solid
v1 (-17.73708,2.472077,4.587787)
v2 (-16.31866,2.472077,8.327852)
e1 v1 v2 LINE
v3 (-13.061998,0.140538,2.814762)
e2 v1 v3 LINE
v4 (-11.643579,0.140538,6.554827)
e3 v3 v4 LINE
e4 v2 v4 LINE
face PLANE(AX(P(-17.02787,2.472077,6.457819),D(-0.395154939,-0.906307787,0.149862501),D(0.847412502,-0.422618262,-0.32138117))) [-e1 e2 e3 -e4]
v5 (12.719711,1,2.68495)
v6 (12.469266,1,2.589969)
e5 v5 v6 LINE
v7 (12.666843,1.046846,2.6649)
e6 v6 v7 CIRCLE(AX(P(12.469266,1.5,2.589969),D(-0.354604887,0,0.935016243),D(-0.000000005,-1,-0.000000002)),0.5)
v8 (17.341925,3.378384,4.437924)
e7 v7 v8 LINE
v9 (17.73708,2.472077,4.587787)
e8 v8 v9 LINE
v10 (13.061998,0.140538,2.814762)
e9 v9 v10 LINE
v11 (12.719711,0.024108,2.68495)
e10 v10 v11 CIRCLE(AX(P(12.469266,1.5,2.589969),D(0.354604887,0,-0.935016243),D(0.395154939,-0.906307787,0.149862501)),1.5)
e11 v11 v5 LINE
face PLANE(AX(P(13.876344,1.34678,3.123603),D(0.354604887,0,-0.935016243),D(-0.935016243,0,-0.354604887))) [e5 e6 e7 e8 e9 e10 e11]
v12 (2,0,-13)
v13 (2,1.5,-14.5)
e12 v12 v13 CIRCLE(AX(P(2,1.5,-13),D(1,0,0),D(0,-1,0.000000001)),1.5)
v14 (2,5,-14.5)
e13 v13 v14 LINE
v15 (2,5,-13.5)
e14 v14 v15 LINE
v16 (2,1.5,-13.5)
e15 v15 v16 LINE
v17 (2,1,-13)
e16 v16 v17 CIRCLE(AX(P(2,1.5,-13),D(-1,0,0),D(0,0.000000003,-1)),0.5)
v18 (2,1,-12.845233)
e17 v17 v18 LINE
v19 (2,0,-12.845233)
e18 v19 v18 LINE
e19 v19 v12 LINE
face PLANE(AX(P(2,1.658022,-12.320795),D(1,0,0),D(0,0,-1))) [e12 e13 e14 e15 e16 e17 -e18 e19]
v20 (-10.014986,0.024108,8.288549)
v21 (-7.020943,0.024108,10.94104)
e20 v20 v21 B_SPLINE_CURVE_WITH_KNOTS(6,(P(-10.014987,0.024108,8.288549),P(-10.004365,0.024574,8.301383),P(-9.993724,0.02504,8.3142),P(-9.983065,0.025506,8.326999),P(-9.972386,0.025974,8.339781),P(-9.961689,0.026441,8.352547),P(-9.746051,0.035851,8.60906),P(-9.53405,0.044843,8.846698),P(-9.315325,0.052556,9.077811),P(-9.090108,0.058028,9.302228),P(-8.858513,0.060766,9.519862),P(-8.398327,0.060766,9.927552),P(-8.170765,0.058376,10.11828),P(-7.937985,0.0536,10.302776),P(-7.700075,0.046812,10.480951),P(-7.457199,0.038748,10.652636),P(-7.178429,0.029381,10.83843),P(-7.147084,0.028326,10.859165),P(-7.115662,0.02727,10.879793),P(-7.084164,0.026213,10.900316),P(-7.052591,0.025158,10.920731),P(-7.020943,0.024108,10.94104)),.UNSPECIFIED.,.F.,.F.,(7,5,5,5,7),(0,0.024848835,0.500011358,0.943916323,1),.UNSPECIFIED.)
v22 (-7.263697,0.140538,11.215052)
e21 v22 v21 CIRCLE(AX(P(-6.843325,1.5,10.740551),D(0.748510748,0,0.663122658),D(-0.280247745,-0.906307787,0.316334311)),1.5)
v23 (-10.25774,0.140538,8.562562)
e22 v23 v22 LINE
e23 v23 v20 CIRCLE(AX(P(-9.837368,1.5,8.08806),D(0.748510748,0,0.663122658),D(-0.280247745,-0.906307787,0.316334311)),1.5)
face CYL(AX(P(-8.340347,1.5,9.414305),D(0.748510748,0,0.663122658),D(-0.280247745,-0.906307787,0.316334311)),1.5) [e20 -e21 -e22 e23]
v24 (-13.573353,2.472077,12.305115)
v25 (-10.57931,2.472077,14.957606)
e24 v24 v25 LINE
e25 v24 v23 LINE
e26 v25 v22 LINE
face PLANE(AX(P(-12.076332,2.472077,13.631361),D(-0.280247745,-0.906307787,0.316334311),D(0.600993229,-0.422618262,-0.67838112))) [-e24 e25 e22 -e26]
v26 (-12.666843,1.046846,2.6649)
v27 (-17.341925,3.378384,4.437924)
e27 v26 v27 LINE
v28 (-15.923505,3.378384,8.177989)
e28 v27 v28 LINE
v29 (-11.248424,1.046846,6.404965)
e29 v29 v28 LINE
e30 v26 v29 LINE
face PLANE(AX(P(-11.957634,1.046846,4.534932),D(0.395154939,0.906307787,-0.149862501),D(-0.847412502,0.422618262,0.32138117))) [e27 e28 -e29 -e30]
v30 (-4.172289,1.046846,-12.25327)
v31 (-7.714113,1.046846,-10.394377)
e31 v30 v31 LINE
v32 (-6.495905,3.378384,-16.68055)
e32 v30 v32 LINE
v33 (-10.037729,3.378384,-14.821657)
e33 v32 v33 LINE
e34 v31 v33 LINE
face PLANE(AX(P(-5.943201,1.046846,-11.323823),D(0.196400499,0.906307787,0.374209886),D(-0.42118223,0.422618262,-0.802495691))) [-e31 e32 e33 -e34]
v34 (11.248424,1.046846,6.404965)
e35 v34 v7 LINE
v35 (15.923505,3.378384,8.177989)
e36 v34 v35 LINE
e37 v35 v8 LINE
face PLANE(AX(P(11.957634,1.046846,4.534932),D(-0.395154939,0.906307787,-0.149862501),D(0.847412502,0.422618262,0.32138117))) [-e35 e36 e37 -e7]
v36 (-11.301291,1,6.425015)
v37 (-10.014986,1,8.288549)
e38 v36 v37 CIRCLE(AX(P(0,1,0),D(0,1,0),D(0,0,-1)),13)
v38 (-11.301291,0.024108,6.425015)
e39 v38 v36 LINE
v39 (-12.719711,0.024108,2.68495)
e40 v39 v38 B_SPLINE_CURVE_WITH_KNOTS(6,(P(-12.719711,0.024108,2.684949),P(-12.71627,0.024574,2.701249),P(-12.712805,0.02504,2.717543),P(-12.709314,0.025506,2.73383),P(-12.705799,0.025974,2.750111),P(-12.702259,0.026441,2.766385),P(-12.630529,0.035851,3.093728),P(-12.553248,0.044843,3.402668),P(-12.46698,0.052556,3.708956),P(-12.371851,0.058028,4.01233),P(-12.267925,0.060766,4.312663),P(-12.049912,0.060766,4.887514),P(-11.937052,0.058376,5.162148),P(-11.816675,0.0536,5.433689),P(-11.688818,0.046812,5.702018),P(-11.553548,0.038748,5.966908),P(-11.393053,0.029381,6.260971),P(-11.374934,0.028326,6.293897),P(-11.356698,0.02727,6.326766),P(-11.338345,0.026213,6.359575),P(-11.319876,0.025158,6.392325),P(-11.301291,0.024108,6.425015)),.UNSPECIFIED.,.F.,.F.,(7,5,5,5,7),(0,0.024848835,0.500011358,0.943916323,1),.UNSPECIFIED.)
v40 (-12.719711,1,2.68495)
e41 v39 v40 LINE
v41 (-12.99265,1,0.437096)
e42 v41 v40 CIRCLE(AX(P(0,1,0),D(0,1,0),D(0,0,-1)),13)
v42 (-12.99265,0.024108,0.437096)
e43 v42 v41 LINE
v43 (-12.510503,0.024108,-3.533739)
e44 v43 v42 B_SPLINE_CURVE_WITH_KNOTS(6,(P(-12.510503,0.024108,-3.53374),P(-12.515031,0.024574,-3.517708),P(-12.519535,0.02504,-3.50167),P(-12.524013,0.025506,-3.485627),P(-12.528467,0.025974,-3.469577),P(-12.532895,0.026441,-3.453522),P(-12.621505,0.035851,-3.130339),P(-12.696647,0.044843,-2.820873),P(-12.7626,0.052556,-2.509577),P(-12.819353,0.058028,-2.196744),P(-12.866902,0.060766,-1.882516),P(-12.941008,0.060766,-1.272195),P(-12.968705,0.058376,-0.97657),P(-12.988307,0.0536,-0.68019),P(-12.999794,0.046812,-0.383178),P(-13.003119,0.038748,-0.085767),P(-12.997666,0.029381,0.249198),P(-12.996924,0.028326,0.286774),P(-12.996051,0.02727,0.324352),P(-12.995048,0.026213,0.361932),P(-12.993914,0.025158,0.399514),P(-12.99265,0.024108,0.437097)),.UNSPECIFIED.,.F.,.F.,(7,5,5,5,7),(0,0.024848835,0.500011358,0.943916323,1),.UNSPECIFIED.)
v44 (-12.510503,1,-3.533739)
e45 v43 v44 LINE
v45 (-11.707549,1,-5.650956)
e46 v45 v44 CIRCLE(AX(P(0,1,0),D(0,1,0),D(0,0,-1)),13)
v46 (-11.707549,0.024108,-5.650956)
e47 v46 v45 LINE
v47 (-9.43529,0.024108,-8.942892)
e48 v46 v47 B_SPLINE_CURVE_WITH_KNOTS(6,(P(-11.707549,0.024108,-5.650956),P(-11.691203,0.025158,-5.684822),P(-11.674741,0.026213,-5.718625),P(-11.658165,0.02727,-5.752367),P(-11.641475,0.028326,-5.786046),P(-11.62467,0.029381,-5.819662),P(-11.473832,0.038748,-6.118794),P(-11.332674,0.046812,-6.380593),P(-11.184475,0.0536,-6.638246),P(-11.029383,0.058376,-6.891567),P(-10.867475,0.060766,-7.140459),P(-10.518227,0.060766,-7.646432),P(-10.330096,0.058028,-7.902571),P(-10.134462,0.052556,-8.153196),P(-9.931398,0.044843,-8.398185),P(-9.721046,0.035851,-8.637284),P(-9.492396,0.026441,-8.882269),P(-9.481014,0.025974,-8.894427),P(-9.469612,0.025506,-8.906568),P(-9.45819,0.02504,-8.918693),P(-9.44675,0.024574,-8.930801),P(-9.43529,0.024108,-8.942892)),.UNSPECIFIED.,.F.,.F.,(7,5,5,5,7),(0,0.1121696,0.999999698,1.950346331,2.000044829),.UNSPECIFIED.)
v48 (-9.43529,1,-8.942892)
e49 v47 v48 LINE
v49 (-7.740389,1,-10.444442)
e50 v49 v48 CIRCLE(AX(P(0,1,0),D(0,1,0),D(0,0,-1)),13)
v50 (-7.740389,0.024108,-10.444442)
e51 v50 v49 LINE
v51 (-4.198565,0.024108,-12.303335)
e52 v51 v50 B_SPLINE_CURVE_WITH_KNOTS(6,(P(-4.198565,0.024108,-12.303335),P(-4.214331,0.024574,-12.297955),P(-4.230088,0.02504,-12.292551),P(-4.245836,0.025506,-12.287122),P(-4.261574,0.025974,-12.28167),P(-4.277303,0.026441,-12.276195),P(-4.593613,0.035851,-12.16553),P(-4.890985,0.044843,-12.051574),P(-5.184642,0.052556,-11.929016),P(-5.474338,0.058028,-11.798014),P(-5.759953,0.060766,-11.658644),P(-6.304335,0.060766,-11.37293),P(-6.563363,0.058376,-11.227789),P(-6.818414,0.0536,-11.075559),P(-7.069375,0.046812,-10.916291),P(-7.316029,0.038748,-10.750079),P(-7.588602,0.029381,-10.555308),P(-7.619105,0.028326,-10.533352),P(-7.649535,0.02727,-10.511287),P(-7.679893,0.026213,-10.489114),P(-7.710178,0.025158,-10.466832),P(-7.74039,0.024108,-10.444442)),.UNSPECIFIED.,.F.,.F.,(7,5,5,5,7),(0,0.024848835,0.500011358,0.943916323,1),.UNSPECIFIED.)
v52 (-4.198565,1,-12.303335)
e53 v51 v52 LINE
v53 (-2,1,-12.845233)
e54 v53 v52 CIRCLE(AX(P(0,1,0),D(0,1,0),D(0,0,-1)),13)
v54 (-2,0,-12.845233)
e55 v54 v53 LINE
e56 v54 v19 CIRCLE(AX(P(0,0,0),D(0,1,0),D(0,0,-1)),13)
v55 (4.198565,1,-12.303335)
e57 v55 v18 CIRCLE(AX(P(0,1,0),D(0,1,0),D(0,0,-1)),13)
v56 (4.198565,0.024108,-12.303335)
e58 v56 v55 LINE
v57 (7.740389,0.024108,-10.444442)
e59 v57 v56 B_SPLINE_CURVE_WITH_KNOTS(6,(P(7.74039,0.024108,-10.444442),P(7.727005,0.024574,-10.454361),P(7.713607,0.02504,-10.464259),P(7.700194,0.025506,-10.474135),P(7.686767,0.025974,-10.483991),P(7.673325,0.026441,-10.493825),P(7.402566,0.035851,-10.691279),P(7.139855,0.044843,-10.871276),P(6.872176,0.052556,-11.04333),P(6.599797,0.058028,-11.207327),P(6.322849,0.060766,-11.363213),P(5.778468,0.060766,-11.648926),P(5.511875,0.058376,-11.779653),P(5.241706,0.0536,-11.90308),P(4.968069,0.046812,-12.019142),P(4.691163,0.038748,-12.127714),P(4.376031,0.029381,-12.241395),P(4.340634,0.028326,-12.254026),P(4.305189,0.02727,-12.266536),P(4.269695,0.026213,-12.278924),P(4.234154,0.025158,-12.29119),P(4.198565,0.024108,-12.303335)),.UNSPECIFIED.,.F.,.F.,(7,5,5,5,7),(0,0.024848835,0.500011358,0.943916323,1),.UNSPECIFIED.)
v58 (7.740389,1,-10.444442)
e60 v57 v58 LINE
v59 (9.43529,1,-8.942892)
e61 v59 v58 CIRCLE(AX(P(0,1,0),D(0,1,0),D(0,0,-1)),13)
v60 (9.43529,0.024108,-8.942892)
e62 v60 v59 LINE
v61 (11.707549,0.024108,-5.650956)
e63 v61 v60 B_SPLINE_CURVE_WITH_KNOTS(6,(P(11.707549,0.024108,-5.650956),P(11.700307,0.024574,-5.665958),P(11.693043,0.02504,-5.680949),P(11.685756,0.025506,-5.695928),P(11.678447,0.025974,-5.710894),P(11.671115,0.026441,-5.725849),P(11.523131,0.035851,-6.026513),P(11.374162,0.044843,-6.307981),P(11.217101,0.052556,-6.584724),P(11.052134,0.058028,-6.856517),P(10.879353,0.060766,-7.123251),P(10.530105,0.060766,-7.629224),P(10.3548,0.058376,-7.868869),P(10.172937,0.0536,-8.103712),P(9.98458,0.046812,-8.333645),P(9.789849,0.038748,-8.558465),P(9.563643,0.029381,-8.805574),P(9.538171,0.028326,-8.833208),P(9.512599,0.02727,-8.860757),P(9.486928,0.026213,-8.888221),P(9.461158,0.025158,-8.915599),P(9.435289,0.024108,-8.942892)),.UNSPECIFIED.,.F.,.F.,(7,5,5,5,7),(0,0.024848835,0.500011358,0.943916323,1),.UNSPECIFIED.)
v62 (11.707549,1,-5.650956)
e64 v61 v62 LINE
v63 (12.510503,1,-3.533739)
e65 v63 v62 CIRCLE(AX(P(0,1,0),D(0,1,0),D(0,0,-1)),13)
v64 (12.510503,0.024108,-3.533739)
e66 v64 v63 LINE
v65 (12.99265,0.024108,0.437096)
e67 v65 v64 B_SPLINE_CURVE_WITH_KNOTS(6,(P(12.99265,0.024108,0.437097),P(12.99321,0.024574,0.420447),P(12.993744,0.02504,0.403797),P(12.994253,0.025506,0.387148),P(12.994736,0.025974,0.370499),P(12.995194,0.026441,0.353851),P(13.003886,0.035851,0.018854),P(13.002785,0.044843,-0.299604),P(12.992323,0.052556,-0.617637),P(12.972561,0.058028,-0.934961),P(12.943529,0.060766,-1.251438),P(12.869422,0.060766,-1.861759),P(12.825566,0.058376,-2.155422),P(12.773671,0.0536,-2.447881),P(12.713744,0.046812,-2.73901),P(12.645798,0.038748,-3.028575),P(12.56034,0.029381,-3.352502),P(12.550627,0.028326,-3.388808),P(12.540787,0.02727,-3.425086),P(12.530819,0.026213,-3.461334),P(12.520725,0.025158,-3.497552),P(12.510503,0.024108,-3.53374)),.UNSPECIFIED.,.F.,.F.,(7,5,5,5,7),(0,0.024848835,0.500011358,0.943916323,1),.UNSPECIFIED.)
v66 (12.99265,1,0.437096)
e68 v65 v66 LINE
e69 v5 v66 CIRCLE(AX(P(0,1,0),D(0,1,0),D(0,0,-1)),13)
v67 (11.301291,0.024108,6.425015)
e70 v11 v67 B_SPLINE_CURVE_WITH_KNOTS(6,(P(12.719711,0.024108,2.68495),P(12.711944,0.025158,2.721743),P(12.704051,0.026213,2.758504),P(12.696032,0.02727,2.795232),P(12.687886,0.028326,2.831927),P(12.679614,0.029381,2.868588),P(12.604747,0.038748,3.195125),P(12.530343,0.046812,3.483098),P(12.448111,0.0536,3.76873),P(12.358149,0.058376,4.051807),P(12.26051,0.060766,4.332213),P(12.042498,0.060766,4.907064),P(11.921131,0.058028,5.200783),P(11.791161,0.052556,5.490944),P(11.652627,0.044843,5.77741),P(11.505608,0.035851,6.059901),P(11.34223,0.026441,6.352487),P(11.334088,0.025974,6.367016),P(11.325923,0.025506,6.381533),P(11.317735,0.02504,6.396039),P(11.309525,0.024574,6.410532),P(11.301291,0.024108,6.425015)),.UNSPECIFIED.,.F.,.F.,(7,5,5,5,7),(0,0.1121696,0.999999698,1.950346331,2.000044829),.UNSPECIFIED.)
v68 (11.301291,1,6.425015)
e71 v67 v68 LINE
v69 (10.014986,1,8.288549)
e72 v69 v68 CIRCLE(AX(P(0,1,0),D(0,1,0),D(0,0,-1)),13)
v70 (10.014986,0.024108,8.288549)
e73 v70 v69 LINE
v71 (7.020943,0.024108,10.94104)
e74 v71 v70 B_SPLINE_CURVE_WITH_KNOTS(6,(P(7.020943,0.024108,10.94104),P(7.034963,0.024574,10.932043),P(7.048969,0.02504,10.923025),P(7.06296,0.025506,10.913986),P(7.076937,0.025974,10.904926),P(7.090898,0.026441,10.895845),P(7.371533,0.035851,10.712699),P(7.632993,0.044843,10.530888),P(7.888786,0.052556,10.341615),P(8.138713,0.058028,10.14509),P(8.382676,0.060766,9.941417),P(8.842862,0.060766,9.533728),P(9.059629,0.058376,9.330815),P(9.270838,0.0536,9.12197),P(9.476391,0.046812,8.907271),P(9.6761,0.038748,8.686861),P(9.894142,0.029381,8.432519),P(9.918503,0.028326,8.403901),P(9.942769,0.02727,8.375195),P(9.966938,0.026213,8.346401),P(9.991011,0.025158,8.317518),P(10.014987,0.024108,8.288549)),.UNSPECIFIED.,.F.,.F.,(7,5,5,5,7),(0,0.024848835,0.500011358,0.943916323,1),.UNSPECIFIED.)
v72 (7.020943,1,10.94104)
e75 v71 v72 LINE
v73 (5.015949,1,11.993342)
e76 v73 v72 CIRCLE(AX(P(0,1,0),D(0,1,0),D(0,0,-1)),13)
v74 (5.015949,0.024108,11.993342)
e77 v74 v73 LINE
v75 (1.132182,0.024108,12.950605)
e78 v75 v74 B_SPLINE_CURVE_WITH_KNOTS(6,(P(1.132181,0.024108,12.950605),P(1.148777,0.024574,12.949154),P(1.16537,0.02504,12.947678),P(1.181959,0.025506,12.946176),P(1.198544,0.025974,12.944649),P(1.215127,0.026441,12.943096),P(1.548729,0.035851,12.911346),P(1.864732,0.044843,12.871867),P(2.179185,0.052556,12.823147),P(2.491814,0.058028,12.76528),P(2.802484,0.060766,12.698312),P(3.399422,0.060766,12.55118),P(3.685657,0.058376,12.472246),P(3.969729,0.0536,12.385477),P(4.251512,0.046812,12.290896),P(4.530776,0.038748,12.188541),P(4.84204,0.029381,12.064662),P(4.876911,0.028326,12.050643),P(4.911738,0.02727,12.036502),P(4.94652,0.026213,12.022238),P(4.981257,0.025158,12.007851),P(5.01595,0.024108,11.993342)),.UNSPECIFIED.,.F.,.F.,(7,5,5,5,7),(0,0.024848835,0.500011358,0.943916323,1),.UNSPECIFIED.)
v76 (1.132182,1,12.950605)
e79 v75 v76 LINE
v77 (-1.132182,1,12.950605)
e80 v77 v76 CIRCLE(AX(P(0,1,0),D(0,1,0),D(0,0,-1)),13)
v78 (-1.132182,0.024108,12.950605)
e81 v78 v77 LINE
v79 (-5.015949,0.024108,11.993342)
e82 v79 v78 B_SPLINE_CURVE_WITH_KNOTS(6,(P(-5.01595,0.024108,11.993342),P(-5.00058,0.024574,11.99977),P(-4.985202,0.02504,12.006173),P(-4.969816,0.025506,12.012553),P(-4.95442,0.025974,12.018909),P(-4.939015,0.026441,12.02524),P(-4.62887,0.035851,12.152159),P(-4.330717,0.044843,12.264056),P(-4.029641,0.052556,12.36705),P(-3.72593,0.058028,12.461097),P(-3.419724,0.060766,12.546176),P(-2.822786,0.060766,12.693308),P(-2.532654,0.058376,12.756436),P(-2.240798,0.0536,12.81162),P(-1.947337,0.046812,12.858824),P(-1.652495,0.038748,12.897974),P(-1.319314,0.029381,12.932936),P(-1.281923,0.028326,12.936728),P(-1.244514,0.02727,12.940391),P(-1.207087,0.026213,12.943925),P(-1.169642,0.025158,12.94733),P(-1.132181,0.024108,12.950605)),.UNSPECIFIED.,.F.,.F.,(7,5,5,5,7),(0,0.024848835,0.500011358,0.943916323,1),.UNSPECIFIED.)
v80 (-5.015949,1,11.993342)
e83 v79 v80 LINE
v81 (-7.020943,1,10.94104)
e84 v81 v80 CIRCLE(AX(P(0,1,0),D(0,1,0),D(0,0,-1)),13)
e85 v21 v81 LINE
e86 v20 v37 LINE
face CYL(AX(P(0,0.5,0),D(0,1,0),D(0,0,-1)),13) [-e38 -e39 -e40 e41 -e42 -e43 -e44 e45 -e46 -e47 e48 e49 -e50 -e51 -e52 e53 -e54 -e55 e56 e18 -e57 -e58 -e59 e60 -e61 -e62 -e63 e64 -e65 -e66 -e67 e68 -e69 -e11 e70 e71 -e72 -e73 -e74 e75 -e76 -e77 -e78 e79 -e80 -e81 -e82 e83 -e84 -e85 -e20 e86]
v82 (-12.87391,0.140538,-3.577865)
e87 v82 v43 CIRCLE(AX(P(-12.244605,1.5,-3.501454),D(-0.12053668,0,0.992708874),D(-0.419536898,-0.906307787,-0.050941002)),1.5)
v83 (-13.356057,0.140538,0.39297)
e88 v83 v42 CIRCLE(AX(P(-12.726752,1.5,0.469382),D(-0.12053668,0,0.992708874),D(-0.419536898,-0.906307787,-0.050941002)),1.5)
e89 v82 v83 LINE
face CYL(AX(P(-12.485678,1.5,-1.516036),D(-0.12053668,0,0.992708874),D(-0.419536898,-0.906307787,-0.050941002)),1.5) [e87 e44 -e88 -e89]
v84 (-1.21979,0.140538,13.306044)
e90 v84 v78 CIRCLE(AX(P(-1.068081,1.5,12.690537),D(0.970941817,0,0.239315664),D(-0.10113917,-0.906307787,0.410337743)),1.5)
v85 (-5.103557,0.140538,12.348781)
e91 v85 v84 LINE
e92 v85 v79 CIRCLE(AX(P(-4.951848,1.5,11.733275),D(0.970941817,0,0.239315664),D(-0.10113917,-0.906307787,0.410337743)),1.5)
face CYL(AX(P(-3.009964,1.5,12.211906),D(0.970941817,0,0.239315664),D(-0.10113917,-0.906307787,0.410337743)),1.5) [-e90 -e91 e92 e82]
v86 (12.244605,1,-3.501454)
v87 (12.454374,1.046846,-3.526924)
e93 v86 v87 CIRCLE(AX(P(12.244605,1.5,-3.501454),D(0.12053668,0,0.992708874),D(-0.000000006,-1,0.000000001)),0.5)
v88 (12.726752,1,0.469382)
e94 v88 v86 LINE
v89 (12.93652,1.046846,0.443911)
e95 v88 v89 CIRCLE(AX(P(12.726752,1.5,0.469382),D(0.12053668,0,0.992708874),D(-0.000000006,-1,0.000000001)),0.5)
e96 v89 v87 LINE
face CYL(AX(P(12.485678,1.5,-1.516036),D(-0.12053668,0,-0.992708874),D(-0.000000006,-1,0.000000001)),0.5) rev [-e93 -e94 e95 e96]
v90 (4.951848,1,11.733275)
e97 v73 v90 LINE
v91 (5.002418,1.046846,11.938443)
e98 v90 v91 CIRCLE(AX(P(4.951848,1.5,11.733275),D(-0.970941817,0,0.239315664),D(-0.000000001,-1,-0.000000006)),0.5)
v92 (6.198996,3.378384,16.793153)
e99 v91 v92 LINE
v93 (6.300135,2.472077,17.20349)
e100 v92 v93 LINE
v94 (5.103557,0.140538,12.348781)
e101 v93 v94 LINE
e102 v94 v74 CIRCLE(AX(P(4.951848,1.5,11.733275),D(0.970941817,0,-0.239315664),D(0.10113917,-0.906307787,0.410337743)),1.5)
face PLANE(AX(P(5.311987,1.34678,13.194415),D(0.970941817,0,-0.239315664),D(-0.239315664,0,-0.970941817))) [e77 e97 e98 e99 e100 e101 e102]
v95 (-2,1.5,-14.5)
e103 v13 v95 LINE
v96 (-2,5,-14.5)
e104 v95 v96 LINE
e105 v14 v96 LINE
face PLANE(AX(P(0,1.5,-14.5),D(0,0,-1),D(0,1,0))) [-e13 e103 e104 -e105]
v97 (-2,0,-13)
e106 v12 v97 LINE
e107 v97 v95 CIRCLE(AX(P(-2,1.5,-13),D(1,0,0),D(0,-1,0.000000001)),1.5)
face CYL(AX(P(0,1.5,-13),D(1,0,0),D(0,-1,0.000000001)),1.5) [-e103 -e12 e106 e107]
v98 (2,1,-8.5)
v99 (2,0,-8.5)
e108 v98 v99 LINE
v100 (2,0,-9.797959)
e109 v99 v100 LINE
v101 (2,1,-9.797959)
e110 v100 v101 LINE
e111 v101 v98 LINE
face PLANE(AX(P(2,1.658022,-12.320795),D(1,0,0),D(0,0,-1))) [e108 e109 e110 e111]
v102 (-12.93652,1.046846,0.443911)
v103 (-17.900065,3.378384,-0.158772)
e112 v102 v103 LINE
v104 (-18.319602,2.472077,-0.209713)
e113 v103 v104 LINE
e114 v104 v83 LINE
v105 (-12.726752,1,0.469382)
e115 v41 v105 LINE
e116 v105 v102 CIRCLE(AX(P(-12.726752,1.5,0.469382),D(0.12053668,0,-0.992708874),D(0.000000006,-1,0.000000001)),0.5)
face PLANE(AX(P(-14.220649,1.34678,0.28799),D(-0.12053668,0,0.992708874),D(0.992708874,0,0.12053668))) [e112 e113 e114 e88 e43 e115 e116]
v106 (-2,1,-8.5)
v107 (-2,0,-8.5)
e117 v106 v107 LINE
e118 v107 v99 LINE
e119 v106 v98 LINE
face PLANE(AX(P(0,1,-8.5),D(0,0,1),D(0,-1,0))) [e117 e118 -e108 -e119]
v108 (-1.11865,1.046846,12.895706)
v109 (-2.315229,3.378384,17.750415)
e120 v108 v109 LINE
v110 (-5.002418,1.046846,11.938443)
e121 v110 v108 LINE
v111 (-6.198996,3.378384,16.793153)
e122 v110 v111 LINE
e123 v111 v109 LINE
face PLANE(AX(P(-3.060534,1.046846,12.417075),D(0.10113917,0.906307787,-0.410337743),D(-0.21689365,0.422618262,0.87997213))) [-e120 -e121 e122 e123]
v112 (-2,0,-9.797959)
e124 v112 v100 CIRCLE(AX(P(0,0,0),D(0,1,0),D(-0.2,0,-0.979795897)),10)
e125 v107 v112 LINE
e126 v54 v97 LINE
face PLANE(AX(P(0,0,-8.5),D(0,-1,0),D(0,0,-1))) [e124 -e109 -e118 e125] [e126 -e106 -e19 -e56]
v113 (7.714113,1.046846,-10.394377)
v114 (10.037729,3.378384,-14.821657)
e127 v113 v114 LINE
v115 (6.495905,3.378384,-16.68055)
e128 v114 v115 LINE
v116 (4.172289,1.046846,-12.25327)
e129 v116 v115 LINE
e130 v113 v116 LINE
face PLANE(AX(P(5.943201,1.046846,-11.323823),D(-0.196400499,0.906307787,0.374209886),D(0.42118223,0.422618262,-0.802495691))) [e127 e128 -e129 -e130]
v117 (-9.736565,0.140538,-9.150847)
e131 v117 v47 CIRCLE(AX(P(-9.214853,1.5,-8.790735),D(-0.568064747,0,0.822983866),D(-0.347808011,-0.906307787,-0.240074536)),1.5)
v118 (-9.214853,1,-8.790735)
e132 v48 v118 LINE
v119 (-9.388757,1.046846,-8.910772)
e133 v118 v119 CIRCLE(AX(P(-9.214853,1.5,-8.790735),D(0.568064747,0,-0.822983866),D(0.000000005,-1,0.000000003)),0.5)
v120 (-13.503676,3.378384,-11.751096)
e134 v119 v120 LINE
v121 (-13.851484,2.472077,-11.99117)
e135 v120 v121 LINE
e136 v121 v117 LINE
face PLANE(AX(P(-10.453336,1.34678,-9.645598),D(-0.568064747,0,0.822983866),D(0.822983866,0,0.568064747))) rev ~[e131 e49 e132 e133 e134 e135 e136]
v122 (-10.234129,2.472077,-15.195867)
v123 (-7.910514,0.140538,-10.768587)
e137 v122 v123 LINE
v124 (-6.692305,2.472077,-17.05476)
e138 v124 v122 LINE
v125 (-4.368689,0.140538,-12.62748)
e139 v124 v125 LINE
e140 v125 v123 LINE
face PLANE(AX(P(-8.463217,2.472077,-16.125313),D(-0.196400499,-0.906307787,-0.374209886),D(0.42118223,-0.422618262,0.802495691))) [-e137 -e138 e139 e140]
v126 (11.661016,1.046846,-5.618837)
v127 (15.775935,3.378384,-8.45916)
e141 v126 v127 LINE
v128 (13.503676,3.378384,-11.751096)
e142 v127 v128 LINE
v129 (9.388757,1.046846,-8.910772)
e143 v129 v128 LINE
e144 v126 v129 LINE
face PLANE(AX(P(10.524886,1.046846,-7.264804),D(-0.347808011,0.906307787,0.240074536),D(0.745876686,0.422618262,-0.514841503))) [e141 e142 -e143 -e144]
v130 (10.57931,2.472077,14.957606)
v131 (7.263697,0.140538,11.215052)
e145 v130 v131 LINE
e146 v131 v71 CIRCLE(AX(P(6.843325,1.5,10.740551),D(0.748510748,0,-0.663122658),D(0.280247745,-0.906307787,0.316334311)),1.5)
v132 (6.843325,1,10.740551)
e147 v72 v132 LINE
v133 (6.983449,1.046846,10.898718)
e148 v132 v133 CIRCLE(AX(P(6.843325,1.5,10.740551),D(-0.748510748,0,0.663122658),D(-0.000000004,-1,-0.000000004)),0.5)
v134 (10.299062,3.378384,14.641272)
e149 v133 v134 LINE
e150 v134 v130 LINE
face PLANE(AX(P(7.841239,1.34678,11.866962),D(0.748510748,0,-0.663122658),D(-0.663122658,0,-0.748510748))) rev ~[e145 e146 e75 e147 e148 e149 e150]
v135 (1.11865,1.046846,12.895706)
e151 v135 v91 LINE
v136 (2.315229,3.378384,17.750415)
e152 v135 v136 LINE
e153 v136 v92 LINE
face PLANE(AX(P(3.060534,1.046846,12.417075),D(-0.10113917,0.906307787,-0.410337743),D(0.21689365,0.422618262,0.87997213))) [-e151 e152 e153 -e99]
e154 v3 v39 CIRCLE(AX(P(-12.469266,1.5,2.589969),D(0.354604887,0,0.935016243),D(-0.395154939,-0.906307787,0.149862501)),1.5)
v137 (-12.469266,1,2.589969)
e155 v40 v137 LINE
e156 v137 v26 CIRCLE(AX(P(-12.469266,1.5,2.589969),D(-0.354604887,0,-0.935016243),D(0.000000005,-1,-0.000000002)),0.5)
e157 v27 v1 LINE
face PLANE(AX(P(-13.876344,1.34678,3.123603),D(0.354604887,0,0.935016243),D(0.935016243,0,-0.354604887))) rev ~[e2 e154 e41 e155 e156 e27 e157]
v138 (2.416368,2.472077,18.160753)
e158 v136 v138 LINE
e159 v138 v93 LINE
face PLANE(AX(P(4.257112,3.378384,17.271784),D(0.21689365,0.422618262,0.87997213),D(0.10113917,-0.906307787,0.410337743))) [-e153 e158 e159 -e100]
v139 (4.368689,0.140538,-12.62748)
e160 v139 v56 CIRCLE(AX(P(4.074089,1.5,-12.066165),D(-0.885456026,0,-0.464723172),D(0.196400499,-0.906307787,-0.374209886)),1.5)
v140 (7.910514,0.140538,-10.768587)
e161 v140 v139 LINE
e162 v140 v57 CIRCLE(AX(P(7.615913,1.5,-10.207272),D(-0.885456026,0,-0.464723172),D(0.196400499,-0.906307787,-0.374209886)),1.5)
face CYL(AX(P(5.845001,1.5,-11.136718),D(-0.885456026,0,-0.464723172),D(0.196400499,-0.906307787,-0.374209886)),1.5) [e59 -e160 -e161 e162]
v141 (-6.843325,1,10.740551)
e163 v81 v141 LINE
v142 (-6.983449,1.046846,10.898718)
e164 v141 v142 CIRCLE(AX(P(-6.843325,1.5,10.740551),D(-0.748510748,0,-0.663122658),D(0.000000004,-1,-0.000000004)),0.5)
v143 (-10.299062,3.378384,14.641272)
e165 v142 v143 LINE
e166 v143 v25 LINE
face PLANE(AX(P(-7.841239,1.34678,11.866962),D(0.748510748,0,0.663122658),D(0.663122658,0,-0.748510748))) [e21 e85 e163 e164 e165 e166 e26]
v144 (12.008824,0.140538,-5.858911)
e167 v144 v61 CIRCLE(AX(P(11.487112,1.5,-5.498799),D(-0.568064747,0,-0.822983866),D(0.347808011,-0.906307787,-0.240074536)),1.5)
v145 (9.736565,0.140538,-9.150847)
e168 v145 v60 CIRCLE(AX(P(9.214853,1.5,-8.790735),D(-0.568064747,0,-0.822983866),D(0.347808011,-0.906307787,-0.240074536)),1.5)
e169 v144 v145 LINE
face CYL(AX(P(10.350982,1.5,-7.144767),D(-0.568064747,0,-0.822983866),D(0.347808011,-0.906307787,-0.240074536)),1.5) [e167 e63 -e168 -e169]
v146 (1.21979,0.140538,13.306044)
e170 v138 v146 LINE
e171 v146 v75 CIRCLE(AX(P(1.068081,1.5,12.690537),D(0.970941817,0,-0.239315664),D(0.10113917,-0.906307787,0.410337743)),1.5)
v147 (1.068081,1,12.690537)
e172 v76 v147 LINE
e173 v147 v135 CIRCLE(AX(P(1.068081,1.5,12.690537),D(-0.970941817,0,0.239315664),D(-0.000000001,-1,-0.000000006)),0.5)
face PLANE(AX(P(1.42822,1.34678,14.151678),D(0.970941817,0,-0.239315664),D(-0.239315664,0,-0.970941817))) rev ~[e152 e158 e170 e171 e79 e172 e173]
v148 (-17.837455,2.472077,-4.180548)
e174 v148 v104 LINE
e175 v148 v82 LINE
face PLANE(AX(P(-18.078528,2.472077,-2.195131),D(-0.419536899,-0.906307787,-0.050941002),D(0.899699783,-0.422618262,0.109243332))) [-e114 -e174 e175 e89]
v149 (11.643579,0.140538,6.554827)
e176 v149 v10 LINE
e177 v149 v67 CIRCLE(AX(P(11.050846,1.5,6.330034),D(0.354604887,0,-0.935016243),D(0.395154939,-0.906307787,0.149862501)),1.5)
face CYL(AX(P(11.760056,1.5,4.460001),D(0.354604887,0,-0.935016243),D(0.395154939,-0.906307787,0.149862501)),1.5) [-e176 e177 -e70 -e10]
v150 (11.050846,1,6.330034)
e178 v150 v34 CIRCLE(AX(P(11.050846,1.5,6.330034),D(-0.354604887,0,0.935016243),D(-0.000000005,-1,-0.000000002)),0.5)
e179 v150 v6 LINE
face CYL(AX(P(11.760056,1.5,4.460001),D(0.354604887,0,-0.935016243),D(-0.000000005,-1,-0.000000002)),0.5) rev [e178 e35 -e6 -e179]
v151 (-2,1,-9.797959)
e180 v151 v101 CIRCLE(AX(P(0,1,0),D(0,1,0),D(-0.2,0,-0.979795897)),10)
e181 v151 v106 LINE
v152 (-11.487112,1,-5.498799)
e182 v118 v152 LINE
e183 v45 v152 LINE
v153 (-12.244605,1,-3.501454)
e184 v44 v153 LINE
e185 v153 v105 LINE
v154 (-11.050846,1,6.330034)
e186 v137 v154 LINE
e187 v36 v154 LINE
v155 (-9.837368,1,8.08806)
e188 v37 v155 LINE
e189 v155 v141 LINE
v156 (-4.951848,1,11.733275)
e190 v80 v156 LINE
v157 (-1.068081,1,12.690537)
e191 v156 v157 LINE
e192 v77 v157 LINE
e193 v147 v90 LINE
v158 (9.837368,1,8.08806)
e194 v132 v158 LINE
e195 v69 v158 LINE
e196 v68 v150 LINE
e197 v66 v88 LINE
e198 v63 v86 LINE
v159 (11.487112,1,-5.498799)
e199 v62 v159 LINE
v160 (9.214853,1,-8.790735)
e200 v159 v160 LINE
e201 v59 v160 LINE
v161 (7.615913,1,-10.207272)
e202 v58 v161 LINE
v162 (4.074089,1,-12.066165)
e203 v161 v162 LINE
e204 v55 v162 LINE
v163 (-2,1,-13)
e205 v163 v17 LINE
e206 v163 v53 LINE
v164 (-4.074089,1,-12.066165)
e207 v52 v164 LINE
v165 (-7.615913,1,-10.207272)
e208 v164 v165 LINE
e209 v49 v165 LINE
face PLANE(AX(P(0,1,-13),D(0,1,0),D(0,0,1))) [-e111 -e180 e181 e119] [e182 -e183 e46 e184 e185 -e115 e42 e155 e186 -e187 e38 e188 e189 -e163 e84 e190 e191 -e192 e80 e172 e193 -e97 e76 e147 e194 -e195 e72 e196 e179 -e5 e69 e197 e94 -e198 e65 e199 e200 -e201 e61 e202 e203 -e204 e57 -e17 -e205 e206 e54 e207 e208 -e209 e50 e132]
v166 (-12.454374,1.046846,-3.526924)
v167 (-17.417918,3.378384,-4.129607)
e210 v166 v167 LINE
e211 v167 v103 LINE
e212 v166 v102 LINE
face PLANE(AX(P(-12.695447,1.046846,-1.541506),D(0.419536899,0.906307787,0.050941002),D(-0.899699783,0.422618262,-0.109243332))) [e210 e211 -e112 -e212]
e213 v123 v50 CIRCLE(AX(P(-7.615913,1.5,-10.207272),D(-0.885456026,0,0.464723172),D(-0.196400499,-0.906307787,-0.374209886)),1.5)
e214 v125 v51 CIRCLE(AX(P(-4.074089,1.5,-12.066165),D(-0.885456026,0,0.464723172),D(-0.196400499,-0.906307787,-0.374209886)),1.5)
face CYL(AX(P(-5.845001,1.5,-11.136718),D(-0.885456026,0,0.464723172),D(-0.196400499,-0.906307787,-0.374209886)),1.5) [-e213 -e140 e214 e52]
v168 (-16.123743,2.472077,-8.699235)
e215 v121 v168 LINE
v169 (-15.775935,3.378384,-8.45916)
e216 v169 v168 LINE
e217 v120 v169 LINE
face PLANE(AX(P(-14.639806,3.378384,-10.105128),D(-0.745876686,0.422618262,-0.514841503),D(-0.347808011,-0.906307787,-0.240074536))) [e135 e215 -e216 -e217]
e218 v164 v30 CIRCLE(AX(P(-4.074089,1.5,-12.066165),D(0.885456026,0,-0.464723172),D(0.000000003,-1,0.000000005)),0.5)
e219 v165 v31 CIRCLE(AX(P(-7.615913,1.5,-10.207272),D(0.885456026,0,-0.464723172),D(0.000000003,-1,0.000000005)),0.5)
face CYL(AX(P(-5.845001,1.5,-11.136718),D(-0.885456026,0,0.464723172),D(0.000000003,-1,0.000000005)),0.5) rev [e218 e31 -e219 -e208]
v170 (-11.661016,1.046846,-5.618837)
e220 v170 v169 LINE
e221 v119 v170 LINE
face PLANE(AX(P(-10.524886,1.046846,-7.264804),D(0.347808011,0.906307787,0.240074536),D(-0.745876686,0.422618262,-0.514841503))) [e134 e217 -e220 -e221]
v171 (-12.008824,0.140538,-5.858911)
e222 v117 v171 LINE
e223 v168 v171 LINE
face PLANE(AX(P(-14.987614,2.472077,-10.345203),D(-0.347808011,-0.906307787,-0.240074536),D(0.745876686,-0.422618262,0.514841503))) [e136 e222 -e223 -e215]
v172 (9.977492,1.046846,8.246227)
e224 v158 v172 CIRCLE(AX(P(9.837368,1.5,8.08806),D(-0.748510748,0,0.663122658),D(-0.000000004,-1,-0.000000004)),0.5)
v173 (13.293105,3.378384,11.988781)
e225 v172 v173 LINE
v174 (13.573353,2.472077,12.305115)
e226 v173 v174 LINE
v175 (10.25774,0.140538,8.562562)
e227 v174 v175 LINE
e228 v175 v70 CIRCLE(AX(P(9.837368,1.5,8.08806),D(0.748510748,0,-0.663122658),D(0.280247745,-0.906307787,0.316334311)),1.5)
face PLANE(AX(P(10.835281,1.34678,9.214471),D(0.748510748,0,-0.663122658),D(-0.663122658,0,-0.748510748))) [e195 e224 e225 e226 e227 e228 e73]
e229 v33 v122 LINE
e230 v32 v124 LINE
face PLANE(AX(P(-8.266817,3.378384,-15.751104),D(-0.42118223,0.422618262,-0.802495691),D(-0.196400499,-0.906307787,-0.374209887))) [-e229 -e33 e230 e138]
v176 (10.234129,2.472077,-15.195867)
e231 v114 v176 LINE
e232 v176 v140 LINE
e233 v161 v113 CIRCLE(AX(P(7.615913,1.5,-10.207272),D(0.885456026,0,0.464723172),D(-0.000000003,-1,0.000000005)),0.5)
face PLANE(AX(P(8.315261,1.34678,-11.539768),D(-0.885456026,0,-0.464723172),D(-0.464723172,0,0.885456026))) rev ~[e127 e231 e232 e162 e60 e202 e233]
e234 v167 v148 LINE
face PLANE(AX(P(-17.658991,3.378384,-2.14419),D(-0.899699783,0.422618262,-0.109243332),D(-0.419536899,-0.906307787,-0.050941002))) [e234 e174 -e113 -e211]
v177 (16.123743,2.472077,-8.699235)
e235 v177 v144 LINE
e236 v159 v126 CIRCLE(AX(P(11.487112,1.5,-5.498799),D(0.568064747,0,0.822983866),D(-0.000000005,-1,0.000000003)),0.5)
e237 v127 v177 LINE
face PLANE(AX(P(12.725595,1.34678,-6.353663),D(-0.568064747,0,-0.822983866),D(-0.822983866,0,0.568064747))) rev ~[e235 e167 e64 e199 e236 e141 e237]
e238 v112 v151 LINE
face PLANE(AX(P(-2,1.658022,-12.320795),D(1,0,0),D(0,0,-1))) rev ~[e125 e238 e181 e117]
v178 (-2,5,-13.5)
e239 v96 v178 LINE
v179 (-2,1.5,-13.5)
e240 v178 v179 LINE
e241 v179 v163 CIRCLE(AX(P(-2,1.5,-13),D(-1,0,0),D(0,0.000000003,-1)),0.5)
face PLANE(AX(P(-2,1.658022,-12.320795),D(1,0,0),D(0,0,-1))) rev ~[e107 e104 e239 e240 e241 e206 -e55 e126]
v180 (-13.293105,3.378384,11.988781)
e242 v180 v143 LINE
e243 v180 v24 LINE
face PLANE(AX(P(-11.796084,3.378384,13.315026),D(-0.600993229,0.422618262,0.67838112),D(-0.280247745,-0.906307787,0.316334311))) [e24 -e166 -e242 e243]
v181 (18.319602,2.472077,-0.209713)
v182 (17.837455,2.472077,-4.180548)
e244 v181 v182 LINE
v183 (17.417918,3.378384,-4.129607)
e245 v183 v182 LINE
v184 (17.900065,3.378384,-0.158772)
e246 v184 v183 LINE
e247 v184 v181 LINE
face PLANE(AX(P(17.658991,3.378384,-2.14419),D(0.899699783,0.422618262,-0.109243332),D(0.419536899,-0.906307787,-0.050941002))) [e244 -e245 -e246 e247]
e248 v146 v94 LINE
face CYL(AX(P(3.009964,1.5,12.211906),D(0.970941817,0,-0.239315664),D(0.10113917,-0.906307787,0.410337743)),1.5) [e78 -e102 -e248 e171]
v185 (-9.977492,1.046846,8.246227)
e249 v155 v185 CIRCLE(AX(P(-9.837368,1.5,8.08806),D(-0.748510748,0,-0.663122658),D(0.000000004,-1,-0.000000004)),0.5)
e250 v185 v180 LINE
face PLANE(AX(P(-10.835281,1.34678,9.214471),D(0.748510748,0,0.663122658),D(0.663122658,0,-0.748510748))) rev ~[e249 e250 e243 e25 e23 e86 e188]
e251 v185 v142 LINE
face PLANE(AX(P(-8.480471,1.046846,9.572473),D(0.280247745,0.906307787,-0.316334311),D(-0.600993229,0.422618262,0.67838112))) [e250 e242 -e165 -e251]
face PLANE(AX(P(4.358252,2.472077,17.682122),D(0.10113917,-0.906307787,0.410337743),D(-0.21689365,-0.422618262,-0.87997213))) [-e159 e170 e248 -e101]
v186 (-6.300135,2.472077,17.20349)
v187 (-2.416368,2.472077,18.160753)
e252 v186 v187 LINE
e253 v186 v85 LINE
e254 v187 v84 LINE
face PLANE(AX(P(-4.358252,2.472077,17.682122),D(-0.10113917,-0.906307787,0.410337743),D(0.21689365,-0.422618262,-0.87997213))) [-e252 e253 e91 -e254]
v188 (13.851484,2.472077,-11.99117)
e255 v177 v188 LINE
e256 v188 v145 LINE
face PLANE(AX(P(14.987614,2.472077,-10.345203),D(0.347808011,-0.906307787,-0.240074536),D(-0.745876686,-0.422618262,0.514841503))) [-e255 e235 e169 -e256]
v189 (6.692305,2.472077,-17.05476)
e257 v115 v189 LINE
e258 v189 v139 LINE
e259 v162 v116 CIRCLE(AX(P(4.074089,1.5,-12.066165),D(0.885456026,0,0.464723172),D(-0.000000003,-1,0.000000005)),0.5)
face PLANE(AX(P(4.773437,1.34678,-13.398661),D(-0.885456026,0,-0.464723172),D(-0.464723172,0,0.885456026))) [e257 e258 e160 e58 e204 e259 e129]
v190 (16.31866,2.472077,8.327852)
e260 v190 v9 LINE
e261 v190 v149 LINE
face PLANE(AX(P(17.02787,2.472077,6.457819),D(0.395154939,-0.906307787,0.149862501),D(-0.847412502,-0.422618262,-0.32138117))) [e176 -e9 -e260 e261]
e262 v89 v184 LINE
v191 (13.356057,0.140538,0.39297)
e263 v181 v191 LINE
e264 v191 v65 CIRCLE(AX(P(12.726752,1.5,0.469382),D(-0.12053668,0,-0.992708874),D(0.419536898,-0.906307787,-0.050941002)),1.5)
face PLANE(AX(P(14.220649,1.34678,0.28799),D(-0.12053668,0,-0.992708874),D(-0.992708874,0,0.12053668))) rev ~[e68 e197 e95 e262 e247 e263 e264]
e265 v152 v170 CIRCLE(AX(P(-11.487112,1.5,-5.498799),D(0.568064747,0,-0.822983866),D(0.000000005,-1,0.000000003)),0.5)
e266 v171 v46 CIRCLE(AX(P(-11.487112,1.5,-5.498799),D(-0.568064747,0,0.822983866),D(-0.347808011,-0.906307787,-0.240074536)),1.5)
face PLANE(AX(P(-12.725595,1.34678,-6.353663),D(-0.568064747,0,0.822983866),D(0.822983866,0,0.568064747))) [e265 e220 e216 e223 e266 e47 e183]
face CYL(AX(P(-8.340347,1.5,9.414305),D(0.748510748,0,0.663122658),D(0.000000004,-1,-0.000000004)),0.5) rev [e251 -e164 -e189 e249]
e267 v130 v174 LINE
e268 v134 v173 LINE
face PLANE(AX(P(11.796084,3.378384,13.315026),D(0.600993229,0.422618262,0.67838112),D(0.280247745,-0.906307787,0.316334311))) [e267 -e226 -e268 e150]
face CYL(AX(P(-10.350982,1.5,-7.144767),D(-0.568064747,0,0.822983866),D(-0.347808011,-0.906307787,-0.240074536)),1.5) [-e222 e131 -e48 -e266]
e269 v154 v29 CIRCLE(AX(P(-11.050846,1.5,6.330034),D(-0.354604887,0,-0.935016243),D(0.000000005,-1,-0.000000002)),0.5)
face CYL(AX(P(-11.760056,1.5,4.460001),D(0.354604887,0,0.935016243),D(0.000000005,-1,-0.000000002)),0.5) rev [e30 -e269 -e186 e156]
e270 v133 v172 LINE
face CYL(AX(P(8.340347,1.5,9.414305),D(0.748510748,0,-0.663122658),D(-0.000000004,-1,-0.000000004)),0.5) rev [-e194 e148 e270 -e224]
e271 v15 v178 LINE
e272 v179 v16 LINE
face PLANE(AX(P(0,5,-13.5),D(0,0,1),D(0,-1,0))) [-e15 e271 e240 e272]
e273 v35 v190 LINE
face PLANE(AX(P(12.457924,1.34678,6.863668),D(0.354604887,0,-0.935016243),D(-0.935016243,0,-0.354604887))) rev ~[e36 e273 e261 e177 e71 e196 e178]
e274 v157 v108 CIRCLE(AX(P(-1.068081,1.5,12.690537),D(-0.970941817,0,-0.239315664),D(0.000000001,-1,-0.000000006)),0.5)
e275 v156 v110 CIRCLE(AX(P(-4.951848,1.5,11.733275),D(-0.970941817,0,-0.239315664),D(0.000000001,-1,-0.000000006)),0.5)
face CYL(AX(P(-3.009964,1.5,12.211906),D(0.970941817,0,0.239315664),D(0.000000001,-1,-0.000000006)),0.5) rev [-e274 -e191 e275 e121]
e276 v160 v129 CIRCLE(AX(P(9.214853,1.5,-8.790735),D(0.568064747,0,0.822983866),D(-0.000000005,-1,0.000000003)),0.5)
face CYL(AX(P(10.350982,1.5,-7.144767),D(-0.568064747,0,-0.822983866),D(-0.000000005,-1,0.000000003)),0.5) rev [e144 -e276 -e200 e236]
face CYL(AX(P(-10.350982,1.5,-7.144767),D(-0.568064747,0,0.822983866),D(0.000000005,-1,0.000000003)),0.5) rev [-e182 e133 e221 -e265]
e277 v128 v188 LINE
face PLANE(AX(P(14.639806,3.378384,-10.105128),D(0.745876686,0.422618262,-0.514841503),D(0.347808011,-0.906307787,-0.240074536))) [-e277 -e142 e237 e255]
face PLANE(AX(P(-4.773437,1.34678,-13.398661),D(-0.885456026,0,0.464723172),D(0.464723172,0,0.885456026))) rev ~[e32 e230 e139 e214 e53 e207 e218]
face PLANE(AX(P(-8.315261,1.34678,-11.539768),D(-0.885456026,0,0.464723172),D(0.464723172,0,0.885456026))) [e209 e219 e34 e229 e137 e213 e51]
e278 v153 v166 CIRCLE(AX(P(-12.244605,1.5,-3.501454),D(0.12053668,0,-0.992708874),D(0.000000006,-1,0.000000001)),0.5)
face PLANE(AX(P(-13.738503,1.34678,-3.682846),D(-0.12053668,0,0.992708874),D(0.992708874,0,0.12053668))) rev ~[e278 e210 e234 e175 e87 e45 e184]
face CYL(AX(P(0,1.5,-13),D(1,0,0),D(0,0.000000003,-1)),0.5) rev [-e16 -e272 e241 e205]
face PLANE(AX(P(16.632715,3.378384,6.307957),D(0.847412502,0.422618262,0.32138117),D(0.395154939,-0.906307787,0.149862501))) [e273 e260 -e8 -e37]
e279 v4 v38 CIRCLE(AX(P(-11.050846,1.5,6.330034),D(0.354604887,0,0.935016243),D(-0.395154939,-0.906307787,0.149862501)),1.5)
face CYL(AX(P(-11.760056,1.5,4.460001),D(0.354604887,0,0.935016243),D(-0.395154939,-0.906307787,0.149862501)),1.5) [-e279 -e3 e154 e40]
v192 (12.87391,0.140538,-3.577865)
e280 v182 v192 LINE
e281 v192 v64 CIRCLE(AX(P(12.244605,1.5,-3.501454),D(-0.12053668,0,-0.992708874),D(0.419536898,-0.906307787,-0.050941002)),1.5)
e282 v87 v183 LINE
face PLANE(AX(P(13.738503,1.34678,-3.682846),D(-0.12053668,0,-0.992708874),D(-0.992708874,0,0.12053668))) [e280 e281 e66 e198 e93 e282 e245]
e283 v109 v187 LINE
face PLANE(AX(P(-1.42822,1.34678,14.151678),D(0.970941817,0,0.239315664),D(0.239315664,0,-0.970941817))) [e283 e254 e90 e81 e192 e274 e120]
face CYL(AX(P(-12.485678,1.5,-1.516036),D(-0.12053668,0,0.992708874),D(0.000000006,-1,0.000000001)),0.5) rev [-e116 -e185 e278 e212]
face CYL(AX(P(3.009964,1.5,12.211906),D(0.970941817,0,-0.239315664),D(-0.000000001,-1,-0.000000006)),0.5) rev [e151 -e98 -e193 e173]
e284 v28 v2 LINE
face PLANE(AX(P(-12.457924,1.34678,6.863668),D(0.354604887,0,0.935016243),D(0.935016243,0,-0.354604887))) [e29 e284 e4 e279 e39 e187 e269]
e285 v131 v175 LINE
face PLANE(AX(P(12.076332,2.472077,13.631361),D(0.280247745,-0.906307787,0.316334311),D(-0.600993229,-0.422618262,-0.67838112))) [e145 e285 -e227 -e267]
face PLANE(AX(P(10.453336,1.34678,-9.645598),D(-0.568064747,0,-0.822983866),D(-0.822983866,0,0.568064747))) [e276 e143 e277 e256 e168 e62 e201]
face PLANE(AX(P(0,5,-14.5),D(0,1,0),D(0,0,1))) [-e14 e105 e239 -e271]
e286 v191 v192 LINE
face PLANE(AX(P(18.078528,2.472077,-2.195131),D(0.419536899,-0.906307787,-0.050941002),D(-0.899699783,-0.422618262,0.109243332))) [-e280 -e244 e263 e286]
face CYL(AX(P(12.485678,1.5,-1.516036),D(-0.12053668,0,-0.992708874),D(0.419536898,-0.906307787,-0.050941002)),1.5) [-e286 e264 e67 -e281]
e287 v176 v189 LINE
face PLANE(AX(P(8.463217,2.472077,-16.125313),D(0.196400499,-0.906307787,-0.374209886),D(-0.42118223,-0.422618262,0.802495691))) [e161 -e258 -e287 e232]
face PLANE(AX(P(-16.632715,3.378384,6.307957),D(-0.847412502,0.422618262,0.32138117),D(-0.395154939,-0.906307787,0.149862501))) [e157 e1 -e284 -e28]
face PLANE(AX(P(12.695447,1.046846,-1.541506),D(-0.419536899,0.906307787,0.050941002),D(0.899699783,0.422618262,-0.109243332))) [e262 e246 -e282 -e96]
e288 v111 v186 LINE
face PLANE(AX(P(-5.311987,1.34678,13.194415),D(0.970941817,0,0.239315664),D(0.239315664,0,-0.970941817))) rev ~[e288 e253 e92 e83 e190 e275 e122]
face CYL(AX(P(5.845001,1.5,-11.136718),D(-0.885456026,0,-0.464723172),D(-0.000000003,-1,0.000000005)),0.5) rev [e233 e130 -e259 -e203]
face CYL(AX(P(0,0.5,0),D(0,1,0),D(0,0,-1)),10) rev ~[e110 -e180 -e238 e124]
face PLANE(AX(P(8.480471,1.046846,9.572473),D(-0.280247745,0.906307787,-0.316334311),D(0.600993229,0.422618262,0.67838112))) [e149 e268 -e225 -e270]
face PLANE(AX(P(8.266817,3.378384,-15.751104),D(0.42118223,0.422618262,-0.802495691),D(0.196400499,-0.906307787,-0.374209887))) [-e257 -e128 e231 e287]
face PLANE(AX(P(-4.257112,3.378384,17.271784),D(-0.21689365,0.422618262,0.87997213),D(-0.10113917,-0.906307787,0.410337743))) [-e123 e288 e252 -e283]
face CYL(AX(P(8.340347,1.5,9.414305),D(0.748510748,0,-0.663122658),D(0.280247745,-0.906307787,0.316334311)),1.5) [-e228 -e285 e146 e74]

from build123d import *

# Parameters (mm, degrees)
ESQUISSE1_W             = 3
ESQUISSE1_H             = 1
LANGUETTE_PLI_E_DEPTH   = 2
LANGUETTE_DEPTH         = 2
NBR_DE_LANGUETTES_COUNT = 12
NBR_DE_LANGUETTES_ANGLE = 304.615384615


with BuildPart() as part:
    # Esquisse1 → Base (revolve)
    with BuildSketch(Plane.XY, mode=Mode.PRIVATE) as base_sk:
        with Locations((11.5, 0.5)):
            Rectangle(ESQUISSE1_W, ESQUISSE1_H)
    revolve(base_sk.sketch.rotate(Axis((0, 0, 0), (0, 1, 0)), 90), axis=Axis((0, 0, 0), (0, 1, 0)))

    # Esquisse3 → Languette pliée (add, symmetric)
    with BuildSketch(Plane(origin=(0, 0, 0), x_dir=(0, 0, -1), z_dir=(1, 0, 0))):
        with BuildLine():
            Line((13.5, 5), (13.5, 1.5))
            ThreePointArc((13.5, 1.5), (13.353553391, 1.146446609), (13, 1))
            Line((13, 1), (10, 1))
            Line((10, 1), (8.5, 1))
            Line((8.5, 1), (8.5, 0))
            Line((8.5, 0), (10, 0))
            Line((10, 0), (13, 0))
            ThreePointArc((13, 0), (14.060660172, 0.439339828), (14.5, 1.5))
            Line((14.5, 1.5), (14.5, 5))
            Line((14.5, 5), (13.5, 5))
        make_face()
    extrude(amount=LANGUETTE_PLI_E_DEPTH, both=True)

    # Esquisse2 → Languette (add, symmetric)
    with BuildSketch(Plane(origin=(0, 0, 0), x_dir=(-0.46472317204377556, 0, 0.8854560256532064), z_dir=(-0.8854560256532064, 0, -0.46472317204377556))):
        with BuildLine():
            Line((-10, 1), (-12.577381738, 1))
            ThreePointArc((-12.577381738, 1), (-12.685601545, 1.011851996), (-12.788690869, 1.046846106))
            Line((-12.788690869, 1.046846106), (-17.788690869, 3.378384397))
            Line((-17.788690869, 3.378384397), (-18.211309131, 2.47207661))
            Line((-18.211309131, 2.47207661), (-13.211309131, 0.140538319))
            ThreePointArc((-13.211309131, 0.140538319), (-12.902041159, 0.035555989), (-12.577381738, 0))
            Line((-12.577381738, 0), (-10, 0))
            Line((-10, 0), (-10, 1))
        make_face()
    languette = extrude(amount=LANGUETTE_DEPTH, both=True)

    # Nbr de languettes: Languette ×12 about axis
    nbr_de_languettes_axis = Axis((0, 0, 0), (0, -1, 0))
    for i in range(1, NBR_DE_LANGUETTES_COUNT):
        add(languette.rotate(nbr_de_languettes_axis, i * NBR_DE_LANGUETTES_ANGLE / (NBR_DE_LANGUETTES_COUNT - 1)))


solid = part.part
